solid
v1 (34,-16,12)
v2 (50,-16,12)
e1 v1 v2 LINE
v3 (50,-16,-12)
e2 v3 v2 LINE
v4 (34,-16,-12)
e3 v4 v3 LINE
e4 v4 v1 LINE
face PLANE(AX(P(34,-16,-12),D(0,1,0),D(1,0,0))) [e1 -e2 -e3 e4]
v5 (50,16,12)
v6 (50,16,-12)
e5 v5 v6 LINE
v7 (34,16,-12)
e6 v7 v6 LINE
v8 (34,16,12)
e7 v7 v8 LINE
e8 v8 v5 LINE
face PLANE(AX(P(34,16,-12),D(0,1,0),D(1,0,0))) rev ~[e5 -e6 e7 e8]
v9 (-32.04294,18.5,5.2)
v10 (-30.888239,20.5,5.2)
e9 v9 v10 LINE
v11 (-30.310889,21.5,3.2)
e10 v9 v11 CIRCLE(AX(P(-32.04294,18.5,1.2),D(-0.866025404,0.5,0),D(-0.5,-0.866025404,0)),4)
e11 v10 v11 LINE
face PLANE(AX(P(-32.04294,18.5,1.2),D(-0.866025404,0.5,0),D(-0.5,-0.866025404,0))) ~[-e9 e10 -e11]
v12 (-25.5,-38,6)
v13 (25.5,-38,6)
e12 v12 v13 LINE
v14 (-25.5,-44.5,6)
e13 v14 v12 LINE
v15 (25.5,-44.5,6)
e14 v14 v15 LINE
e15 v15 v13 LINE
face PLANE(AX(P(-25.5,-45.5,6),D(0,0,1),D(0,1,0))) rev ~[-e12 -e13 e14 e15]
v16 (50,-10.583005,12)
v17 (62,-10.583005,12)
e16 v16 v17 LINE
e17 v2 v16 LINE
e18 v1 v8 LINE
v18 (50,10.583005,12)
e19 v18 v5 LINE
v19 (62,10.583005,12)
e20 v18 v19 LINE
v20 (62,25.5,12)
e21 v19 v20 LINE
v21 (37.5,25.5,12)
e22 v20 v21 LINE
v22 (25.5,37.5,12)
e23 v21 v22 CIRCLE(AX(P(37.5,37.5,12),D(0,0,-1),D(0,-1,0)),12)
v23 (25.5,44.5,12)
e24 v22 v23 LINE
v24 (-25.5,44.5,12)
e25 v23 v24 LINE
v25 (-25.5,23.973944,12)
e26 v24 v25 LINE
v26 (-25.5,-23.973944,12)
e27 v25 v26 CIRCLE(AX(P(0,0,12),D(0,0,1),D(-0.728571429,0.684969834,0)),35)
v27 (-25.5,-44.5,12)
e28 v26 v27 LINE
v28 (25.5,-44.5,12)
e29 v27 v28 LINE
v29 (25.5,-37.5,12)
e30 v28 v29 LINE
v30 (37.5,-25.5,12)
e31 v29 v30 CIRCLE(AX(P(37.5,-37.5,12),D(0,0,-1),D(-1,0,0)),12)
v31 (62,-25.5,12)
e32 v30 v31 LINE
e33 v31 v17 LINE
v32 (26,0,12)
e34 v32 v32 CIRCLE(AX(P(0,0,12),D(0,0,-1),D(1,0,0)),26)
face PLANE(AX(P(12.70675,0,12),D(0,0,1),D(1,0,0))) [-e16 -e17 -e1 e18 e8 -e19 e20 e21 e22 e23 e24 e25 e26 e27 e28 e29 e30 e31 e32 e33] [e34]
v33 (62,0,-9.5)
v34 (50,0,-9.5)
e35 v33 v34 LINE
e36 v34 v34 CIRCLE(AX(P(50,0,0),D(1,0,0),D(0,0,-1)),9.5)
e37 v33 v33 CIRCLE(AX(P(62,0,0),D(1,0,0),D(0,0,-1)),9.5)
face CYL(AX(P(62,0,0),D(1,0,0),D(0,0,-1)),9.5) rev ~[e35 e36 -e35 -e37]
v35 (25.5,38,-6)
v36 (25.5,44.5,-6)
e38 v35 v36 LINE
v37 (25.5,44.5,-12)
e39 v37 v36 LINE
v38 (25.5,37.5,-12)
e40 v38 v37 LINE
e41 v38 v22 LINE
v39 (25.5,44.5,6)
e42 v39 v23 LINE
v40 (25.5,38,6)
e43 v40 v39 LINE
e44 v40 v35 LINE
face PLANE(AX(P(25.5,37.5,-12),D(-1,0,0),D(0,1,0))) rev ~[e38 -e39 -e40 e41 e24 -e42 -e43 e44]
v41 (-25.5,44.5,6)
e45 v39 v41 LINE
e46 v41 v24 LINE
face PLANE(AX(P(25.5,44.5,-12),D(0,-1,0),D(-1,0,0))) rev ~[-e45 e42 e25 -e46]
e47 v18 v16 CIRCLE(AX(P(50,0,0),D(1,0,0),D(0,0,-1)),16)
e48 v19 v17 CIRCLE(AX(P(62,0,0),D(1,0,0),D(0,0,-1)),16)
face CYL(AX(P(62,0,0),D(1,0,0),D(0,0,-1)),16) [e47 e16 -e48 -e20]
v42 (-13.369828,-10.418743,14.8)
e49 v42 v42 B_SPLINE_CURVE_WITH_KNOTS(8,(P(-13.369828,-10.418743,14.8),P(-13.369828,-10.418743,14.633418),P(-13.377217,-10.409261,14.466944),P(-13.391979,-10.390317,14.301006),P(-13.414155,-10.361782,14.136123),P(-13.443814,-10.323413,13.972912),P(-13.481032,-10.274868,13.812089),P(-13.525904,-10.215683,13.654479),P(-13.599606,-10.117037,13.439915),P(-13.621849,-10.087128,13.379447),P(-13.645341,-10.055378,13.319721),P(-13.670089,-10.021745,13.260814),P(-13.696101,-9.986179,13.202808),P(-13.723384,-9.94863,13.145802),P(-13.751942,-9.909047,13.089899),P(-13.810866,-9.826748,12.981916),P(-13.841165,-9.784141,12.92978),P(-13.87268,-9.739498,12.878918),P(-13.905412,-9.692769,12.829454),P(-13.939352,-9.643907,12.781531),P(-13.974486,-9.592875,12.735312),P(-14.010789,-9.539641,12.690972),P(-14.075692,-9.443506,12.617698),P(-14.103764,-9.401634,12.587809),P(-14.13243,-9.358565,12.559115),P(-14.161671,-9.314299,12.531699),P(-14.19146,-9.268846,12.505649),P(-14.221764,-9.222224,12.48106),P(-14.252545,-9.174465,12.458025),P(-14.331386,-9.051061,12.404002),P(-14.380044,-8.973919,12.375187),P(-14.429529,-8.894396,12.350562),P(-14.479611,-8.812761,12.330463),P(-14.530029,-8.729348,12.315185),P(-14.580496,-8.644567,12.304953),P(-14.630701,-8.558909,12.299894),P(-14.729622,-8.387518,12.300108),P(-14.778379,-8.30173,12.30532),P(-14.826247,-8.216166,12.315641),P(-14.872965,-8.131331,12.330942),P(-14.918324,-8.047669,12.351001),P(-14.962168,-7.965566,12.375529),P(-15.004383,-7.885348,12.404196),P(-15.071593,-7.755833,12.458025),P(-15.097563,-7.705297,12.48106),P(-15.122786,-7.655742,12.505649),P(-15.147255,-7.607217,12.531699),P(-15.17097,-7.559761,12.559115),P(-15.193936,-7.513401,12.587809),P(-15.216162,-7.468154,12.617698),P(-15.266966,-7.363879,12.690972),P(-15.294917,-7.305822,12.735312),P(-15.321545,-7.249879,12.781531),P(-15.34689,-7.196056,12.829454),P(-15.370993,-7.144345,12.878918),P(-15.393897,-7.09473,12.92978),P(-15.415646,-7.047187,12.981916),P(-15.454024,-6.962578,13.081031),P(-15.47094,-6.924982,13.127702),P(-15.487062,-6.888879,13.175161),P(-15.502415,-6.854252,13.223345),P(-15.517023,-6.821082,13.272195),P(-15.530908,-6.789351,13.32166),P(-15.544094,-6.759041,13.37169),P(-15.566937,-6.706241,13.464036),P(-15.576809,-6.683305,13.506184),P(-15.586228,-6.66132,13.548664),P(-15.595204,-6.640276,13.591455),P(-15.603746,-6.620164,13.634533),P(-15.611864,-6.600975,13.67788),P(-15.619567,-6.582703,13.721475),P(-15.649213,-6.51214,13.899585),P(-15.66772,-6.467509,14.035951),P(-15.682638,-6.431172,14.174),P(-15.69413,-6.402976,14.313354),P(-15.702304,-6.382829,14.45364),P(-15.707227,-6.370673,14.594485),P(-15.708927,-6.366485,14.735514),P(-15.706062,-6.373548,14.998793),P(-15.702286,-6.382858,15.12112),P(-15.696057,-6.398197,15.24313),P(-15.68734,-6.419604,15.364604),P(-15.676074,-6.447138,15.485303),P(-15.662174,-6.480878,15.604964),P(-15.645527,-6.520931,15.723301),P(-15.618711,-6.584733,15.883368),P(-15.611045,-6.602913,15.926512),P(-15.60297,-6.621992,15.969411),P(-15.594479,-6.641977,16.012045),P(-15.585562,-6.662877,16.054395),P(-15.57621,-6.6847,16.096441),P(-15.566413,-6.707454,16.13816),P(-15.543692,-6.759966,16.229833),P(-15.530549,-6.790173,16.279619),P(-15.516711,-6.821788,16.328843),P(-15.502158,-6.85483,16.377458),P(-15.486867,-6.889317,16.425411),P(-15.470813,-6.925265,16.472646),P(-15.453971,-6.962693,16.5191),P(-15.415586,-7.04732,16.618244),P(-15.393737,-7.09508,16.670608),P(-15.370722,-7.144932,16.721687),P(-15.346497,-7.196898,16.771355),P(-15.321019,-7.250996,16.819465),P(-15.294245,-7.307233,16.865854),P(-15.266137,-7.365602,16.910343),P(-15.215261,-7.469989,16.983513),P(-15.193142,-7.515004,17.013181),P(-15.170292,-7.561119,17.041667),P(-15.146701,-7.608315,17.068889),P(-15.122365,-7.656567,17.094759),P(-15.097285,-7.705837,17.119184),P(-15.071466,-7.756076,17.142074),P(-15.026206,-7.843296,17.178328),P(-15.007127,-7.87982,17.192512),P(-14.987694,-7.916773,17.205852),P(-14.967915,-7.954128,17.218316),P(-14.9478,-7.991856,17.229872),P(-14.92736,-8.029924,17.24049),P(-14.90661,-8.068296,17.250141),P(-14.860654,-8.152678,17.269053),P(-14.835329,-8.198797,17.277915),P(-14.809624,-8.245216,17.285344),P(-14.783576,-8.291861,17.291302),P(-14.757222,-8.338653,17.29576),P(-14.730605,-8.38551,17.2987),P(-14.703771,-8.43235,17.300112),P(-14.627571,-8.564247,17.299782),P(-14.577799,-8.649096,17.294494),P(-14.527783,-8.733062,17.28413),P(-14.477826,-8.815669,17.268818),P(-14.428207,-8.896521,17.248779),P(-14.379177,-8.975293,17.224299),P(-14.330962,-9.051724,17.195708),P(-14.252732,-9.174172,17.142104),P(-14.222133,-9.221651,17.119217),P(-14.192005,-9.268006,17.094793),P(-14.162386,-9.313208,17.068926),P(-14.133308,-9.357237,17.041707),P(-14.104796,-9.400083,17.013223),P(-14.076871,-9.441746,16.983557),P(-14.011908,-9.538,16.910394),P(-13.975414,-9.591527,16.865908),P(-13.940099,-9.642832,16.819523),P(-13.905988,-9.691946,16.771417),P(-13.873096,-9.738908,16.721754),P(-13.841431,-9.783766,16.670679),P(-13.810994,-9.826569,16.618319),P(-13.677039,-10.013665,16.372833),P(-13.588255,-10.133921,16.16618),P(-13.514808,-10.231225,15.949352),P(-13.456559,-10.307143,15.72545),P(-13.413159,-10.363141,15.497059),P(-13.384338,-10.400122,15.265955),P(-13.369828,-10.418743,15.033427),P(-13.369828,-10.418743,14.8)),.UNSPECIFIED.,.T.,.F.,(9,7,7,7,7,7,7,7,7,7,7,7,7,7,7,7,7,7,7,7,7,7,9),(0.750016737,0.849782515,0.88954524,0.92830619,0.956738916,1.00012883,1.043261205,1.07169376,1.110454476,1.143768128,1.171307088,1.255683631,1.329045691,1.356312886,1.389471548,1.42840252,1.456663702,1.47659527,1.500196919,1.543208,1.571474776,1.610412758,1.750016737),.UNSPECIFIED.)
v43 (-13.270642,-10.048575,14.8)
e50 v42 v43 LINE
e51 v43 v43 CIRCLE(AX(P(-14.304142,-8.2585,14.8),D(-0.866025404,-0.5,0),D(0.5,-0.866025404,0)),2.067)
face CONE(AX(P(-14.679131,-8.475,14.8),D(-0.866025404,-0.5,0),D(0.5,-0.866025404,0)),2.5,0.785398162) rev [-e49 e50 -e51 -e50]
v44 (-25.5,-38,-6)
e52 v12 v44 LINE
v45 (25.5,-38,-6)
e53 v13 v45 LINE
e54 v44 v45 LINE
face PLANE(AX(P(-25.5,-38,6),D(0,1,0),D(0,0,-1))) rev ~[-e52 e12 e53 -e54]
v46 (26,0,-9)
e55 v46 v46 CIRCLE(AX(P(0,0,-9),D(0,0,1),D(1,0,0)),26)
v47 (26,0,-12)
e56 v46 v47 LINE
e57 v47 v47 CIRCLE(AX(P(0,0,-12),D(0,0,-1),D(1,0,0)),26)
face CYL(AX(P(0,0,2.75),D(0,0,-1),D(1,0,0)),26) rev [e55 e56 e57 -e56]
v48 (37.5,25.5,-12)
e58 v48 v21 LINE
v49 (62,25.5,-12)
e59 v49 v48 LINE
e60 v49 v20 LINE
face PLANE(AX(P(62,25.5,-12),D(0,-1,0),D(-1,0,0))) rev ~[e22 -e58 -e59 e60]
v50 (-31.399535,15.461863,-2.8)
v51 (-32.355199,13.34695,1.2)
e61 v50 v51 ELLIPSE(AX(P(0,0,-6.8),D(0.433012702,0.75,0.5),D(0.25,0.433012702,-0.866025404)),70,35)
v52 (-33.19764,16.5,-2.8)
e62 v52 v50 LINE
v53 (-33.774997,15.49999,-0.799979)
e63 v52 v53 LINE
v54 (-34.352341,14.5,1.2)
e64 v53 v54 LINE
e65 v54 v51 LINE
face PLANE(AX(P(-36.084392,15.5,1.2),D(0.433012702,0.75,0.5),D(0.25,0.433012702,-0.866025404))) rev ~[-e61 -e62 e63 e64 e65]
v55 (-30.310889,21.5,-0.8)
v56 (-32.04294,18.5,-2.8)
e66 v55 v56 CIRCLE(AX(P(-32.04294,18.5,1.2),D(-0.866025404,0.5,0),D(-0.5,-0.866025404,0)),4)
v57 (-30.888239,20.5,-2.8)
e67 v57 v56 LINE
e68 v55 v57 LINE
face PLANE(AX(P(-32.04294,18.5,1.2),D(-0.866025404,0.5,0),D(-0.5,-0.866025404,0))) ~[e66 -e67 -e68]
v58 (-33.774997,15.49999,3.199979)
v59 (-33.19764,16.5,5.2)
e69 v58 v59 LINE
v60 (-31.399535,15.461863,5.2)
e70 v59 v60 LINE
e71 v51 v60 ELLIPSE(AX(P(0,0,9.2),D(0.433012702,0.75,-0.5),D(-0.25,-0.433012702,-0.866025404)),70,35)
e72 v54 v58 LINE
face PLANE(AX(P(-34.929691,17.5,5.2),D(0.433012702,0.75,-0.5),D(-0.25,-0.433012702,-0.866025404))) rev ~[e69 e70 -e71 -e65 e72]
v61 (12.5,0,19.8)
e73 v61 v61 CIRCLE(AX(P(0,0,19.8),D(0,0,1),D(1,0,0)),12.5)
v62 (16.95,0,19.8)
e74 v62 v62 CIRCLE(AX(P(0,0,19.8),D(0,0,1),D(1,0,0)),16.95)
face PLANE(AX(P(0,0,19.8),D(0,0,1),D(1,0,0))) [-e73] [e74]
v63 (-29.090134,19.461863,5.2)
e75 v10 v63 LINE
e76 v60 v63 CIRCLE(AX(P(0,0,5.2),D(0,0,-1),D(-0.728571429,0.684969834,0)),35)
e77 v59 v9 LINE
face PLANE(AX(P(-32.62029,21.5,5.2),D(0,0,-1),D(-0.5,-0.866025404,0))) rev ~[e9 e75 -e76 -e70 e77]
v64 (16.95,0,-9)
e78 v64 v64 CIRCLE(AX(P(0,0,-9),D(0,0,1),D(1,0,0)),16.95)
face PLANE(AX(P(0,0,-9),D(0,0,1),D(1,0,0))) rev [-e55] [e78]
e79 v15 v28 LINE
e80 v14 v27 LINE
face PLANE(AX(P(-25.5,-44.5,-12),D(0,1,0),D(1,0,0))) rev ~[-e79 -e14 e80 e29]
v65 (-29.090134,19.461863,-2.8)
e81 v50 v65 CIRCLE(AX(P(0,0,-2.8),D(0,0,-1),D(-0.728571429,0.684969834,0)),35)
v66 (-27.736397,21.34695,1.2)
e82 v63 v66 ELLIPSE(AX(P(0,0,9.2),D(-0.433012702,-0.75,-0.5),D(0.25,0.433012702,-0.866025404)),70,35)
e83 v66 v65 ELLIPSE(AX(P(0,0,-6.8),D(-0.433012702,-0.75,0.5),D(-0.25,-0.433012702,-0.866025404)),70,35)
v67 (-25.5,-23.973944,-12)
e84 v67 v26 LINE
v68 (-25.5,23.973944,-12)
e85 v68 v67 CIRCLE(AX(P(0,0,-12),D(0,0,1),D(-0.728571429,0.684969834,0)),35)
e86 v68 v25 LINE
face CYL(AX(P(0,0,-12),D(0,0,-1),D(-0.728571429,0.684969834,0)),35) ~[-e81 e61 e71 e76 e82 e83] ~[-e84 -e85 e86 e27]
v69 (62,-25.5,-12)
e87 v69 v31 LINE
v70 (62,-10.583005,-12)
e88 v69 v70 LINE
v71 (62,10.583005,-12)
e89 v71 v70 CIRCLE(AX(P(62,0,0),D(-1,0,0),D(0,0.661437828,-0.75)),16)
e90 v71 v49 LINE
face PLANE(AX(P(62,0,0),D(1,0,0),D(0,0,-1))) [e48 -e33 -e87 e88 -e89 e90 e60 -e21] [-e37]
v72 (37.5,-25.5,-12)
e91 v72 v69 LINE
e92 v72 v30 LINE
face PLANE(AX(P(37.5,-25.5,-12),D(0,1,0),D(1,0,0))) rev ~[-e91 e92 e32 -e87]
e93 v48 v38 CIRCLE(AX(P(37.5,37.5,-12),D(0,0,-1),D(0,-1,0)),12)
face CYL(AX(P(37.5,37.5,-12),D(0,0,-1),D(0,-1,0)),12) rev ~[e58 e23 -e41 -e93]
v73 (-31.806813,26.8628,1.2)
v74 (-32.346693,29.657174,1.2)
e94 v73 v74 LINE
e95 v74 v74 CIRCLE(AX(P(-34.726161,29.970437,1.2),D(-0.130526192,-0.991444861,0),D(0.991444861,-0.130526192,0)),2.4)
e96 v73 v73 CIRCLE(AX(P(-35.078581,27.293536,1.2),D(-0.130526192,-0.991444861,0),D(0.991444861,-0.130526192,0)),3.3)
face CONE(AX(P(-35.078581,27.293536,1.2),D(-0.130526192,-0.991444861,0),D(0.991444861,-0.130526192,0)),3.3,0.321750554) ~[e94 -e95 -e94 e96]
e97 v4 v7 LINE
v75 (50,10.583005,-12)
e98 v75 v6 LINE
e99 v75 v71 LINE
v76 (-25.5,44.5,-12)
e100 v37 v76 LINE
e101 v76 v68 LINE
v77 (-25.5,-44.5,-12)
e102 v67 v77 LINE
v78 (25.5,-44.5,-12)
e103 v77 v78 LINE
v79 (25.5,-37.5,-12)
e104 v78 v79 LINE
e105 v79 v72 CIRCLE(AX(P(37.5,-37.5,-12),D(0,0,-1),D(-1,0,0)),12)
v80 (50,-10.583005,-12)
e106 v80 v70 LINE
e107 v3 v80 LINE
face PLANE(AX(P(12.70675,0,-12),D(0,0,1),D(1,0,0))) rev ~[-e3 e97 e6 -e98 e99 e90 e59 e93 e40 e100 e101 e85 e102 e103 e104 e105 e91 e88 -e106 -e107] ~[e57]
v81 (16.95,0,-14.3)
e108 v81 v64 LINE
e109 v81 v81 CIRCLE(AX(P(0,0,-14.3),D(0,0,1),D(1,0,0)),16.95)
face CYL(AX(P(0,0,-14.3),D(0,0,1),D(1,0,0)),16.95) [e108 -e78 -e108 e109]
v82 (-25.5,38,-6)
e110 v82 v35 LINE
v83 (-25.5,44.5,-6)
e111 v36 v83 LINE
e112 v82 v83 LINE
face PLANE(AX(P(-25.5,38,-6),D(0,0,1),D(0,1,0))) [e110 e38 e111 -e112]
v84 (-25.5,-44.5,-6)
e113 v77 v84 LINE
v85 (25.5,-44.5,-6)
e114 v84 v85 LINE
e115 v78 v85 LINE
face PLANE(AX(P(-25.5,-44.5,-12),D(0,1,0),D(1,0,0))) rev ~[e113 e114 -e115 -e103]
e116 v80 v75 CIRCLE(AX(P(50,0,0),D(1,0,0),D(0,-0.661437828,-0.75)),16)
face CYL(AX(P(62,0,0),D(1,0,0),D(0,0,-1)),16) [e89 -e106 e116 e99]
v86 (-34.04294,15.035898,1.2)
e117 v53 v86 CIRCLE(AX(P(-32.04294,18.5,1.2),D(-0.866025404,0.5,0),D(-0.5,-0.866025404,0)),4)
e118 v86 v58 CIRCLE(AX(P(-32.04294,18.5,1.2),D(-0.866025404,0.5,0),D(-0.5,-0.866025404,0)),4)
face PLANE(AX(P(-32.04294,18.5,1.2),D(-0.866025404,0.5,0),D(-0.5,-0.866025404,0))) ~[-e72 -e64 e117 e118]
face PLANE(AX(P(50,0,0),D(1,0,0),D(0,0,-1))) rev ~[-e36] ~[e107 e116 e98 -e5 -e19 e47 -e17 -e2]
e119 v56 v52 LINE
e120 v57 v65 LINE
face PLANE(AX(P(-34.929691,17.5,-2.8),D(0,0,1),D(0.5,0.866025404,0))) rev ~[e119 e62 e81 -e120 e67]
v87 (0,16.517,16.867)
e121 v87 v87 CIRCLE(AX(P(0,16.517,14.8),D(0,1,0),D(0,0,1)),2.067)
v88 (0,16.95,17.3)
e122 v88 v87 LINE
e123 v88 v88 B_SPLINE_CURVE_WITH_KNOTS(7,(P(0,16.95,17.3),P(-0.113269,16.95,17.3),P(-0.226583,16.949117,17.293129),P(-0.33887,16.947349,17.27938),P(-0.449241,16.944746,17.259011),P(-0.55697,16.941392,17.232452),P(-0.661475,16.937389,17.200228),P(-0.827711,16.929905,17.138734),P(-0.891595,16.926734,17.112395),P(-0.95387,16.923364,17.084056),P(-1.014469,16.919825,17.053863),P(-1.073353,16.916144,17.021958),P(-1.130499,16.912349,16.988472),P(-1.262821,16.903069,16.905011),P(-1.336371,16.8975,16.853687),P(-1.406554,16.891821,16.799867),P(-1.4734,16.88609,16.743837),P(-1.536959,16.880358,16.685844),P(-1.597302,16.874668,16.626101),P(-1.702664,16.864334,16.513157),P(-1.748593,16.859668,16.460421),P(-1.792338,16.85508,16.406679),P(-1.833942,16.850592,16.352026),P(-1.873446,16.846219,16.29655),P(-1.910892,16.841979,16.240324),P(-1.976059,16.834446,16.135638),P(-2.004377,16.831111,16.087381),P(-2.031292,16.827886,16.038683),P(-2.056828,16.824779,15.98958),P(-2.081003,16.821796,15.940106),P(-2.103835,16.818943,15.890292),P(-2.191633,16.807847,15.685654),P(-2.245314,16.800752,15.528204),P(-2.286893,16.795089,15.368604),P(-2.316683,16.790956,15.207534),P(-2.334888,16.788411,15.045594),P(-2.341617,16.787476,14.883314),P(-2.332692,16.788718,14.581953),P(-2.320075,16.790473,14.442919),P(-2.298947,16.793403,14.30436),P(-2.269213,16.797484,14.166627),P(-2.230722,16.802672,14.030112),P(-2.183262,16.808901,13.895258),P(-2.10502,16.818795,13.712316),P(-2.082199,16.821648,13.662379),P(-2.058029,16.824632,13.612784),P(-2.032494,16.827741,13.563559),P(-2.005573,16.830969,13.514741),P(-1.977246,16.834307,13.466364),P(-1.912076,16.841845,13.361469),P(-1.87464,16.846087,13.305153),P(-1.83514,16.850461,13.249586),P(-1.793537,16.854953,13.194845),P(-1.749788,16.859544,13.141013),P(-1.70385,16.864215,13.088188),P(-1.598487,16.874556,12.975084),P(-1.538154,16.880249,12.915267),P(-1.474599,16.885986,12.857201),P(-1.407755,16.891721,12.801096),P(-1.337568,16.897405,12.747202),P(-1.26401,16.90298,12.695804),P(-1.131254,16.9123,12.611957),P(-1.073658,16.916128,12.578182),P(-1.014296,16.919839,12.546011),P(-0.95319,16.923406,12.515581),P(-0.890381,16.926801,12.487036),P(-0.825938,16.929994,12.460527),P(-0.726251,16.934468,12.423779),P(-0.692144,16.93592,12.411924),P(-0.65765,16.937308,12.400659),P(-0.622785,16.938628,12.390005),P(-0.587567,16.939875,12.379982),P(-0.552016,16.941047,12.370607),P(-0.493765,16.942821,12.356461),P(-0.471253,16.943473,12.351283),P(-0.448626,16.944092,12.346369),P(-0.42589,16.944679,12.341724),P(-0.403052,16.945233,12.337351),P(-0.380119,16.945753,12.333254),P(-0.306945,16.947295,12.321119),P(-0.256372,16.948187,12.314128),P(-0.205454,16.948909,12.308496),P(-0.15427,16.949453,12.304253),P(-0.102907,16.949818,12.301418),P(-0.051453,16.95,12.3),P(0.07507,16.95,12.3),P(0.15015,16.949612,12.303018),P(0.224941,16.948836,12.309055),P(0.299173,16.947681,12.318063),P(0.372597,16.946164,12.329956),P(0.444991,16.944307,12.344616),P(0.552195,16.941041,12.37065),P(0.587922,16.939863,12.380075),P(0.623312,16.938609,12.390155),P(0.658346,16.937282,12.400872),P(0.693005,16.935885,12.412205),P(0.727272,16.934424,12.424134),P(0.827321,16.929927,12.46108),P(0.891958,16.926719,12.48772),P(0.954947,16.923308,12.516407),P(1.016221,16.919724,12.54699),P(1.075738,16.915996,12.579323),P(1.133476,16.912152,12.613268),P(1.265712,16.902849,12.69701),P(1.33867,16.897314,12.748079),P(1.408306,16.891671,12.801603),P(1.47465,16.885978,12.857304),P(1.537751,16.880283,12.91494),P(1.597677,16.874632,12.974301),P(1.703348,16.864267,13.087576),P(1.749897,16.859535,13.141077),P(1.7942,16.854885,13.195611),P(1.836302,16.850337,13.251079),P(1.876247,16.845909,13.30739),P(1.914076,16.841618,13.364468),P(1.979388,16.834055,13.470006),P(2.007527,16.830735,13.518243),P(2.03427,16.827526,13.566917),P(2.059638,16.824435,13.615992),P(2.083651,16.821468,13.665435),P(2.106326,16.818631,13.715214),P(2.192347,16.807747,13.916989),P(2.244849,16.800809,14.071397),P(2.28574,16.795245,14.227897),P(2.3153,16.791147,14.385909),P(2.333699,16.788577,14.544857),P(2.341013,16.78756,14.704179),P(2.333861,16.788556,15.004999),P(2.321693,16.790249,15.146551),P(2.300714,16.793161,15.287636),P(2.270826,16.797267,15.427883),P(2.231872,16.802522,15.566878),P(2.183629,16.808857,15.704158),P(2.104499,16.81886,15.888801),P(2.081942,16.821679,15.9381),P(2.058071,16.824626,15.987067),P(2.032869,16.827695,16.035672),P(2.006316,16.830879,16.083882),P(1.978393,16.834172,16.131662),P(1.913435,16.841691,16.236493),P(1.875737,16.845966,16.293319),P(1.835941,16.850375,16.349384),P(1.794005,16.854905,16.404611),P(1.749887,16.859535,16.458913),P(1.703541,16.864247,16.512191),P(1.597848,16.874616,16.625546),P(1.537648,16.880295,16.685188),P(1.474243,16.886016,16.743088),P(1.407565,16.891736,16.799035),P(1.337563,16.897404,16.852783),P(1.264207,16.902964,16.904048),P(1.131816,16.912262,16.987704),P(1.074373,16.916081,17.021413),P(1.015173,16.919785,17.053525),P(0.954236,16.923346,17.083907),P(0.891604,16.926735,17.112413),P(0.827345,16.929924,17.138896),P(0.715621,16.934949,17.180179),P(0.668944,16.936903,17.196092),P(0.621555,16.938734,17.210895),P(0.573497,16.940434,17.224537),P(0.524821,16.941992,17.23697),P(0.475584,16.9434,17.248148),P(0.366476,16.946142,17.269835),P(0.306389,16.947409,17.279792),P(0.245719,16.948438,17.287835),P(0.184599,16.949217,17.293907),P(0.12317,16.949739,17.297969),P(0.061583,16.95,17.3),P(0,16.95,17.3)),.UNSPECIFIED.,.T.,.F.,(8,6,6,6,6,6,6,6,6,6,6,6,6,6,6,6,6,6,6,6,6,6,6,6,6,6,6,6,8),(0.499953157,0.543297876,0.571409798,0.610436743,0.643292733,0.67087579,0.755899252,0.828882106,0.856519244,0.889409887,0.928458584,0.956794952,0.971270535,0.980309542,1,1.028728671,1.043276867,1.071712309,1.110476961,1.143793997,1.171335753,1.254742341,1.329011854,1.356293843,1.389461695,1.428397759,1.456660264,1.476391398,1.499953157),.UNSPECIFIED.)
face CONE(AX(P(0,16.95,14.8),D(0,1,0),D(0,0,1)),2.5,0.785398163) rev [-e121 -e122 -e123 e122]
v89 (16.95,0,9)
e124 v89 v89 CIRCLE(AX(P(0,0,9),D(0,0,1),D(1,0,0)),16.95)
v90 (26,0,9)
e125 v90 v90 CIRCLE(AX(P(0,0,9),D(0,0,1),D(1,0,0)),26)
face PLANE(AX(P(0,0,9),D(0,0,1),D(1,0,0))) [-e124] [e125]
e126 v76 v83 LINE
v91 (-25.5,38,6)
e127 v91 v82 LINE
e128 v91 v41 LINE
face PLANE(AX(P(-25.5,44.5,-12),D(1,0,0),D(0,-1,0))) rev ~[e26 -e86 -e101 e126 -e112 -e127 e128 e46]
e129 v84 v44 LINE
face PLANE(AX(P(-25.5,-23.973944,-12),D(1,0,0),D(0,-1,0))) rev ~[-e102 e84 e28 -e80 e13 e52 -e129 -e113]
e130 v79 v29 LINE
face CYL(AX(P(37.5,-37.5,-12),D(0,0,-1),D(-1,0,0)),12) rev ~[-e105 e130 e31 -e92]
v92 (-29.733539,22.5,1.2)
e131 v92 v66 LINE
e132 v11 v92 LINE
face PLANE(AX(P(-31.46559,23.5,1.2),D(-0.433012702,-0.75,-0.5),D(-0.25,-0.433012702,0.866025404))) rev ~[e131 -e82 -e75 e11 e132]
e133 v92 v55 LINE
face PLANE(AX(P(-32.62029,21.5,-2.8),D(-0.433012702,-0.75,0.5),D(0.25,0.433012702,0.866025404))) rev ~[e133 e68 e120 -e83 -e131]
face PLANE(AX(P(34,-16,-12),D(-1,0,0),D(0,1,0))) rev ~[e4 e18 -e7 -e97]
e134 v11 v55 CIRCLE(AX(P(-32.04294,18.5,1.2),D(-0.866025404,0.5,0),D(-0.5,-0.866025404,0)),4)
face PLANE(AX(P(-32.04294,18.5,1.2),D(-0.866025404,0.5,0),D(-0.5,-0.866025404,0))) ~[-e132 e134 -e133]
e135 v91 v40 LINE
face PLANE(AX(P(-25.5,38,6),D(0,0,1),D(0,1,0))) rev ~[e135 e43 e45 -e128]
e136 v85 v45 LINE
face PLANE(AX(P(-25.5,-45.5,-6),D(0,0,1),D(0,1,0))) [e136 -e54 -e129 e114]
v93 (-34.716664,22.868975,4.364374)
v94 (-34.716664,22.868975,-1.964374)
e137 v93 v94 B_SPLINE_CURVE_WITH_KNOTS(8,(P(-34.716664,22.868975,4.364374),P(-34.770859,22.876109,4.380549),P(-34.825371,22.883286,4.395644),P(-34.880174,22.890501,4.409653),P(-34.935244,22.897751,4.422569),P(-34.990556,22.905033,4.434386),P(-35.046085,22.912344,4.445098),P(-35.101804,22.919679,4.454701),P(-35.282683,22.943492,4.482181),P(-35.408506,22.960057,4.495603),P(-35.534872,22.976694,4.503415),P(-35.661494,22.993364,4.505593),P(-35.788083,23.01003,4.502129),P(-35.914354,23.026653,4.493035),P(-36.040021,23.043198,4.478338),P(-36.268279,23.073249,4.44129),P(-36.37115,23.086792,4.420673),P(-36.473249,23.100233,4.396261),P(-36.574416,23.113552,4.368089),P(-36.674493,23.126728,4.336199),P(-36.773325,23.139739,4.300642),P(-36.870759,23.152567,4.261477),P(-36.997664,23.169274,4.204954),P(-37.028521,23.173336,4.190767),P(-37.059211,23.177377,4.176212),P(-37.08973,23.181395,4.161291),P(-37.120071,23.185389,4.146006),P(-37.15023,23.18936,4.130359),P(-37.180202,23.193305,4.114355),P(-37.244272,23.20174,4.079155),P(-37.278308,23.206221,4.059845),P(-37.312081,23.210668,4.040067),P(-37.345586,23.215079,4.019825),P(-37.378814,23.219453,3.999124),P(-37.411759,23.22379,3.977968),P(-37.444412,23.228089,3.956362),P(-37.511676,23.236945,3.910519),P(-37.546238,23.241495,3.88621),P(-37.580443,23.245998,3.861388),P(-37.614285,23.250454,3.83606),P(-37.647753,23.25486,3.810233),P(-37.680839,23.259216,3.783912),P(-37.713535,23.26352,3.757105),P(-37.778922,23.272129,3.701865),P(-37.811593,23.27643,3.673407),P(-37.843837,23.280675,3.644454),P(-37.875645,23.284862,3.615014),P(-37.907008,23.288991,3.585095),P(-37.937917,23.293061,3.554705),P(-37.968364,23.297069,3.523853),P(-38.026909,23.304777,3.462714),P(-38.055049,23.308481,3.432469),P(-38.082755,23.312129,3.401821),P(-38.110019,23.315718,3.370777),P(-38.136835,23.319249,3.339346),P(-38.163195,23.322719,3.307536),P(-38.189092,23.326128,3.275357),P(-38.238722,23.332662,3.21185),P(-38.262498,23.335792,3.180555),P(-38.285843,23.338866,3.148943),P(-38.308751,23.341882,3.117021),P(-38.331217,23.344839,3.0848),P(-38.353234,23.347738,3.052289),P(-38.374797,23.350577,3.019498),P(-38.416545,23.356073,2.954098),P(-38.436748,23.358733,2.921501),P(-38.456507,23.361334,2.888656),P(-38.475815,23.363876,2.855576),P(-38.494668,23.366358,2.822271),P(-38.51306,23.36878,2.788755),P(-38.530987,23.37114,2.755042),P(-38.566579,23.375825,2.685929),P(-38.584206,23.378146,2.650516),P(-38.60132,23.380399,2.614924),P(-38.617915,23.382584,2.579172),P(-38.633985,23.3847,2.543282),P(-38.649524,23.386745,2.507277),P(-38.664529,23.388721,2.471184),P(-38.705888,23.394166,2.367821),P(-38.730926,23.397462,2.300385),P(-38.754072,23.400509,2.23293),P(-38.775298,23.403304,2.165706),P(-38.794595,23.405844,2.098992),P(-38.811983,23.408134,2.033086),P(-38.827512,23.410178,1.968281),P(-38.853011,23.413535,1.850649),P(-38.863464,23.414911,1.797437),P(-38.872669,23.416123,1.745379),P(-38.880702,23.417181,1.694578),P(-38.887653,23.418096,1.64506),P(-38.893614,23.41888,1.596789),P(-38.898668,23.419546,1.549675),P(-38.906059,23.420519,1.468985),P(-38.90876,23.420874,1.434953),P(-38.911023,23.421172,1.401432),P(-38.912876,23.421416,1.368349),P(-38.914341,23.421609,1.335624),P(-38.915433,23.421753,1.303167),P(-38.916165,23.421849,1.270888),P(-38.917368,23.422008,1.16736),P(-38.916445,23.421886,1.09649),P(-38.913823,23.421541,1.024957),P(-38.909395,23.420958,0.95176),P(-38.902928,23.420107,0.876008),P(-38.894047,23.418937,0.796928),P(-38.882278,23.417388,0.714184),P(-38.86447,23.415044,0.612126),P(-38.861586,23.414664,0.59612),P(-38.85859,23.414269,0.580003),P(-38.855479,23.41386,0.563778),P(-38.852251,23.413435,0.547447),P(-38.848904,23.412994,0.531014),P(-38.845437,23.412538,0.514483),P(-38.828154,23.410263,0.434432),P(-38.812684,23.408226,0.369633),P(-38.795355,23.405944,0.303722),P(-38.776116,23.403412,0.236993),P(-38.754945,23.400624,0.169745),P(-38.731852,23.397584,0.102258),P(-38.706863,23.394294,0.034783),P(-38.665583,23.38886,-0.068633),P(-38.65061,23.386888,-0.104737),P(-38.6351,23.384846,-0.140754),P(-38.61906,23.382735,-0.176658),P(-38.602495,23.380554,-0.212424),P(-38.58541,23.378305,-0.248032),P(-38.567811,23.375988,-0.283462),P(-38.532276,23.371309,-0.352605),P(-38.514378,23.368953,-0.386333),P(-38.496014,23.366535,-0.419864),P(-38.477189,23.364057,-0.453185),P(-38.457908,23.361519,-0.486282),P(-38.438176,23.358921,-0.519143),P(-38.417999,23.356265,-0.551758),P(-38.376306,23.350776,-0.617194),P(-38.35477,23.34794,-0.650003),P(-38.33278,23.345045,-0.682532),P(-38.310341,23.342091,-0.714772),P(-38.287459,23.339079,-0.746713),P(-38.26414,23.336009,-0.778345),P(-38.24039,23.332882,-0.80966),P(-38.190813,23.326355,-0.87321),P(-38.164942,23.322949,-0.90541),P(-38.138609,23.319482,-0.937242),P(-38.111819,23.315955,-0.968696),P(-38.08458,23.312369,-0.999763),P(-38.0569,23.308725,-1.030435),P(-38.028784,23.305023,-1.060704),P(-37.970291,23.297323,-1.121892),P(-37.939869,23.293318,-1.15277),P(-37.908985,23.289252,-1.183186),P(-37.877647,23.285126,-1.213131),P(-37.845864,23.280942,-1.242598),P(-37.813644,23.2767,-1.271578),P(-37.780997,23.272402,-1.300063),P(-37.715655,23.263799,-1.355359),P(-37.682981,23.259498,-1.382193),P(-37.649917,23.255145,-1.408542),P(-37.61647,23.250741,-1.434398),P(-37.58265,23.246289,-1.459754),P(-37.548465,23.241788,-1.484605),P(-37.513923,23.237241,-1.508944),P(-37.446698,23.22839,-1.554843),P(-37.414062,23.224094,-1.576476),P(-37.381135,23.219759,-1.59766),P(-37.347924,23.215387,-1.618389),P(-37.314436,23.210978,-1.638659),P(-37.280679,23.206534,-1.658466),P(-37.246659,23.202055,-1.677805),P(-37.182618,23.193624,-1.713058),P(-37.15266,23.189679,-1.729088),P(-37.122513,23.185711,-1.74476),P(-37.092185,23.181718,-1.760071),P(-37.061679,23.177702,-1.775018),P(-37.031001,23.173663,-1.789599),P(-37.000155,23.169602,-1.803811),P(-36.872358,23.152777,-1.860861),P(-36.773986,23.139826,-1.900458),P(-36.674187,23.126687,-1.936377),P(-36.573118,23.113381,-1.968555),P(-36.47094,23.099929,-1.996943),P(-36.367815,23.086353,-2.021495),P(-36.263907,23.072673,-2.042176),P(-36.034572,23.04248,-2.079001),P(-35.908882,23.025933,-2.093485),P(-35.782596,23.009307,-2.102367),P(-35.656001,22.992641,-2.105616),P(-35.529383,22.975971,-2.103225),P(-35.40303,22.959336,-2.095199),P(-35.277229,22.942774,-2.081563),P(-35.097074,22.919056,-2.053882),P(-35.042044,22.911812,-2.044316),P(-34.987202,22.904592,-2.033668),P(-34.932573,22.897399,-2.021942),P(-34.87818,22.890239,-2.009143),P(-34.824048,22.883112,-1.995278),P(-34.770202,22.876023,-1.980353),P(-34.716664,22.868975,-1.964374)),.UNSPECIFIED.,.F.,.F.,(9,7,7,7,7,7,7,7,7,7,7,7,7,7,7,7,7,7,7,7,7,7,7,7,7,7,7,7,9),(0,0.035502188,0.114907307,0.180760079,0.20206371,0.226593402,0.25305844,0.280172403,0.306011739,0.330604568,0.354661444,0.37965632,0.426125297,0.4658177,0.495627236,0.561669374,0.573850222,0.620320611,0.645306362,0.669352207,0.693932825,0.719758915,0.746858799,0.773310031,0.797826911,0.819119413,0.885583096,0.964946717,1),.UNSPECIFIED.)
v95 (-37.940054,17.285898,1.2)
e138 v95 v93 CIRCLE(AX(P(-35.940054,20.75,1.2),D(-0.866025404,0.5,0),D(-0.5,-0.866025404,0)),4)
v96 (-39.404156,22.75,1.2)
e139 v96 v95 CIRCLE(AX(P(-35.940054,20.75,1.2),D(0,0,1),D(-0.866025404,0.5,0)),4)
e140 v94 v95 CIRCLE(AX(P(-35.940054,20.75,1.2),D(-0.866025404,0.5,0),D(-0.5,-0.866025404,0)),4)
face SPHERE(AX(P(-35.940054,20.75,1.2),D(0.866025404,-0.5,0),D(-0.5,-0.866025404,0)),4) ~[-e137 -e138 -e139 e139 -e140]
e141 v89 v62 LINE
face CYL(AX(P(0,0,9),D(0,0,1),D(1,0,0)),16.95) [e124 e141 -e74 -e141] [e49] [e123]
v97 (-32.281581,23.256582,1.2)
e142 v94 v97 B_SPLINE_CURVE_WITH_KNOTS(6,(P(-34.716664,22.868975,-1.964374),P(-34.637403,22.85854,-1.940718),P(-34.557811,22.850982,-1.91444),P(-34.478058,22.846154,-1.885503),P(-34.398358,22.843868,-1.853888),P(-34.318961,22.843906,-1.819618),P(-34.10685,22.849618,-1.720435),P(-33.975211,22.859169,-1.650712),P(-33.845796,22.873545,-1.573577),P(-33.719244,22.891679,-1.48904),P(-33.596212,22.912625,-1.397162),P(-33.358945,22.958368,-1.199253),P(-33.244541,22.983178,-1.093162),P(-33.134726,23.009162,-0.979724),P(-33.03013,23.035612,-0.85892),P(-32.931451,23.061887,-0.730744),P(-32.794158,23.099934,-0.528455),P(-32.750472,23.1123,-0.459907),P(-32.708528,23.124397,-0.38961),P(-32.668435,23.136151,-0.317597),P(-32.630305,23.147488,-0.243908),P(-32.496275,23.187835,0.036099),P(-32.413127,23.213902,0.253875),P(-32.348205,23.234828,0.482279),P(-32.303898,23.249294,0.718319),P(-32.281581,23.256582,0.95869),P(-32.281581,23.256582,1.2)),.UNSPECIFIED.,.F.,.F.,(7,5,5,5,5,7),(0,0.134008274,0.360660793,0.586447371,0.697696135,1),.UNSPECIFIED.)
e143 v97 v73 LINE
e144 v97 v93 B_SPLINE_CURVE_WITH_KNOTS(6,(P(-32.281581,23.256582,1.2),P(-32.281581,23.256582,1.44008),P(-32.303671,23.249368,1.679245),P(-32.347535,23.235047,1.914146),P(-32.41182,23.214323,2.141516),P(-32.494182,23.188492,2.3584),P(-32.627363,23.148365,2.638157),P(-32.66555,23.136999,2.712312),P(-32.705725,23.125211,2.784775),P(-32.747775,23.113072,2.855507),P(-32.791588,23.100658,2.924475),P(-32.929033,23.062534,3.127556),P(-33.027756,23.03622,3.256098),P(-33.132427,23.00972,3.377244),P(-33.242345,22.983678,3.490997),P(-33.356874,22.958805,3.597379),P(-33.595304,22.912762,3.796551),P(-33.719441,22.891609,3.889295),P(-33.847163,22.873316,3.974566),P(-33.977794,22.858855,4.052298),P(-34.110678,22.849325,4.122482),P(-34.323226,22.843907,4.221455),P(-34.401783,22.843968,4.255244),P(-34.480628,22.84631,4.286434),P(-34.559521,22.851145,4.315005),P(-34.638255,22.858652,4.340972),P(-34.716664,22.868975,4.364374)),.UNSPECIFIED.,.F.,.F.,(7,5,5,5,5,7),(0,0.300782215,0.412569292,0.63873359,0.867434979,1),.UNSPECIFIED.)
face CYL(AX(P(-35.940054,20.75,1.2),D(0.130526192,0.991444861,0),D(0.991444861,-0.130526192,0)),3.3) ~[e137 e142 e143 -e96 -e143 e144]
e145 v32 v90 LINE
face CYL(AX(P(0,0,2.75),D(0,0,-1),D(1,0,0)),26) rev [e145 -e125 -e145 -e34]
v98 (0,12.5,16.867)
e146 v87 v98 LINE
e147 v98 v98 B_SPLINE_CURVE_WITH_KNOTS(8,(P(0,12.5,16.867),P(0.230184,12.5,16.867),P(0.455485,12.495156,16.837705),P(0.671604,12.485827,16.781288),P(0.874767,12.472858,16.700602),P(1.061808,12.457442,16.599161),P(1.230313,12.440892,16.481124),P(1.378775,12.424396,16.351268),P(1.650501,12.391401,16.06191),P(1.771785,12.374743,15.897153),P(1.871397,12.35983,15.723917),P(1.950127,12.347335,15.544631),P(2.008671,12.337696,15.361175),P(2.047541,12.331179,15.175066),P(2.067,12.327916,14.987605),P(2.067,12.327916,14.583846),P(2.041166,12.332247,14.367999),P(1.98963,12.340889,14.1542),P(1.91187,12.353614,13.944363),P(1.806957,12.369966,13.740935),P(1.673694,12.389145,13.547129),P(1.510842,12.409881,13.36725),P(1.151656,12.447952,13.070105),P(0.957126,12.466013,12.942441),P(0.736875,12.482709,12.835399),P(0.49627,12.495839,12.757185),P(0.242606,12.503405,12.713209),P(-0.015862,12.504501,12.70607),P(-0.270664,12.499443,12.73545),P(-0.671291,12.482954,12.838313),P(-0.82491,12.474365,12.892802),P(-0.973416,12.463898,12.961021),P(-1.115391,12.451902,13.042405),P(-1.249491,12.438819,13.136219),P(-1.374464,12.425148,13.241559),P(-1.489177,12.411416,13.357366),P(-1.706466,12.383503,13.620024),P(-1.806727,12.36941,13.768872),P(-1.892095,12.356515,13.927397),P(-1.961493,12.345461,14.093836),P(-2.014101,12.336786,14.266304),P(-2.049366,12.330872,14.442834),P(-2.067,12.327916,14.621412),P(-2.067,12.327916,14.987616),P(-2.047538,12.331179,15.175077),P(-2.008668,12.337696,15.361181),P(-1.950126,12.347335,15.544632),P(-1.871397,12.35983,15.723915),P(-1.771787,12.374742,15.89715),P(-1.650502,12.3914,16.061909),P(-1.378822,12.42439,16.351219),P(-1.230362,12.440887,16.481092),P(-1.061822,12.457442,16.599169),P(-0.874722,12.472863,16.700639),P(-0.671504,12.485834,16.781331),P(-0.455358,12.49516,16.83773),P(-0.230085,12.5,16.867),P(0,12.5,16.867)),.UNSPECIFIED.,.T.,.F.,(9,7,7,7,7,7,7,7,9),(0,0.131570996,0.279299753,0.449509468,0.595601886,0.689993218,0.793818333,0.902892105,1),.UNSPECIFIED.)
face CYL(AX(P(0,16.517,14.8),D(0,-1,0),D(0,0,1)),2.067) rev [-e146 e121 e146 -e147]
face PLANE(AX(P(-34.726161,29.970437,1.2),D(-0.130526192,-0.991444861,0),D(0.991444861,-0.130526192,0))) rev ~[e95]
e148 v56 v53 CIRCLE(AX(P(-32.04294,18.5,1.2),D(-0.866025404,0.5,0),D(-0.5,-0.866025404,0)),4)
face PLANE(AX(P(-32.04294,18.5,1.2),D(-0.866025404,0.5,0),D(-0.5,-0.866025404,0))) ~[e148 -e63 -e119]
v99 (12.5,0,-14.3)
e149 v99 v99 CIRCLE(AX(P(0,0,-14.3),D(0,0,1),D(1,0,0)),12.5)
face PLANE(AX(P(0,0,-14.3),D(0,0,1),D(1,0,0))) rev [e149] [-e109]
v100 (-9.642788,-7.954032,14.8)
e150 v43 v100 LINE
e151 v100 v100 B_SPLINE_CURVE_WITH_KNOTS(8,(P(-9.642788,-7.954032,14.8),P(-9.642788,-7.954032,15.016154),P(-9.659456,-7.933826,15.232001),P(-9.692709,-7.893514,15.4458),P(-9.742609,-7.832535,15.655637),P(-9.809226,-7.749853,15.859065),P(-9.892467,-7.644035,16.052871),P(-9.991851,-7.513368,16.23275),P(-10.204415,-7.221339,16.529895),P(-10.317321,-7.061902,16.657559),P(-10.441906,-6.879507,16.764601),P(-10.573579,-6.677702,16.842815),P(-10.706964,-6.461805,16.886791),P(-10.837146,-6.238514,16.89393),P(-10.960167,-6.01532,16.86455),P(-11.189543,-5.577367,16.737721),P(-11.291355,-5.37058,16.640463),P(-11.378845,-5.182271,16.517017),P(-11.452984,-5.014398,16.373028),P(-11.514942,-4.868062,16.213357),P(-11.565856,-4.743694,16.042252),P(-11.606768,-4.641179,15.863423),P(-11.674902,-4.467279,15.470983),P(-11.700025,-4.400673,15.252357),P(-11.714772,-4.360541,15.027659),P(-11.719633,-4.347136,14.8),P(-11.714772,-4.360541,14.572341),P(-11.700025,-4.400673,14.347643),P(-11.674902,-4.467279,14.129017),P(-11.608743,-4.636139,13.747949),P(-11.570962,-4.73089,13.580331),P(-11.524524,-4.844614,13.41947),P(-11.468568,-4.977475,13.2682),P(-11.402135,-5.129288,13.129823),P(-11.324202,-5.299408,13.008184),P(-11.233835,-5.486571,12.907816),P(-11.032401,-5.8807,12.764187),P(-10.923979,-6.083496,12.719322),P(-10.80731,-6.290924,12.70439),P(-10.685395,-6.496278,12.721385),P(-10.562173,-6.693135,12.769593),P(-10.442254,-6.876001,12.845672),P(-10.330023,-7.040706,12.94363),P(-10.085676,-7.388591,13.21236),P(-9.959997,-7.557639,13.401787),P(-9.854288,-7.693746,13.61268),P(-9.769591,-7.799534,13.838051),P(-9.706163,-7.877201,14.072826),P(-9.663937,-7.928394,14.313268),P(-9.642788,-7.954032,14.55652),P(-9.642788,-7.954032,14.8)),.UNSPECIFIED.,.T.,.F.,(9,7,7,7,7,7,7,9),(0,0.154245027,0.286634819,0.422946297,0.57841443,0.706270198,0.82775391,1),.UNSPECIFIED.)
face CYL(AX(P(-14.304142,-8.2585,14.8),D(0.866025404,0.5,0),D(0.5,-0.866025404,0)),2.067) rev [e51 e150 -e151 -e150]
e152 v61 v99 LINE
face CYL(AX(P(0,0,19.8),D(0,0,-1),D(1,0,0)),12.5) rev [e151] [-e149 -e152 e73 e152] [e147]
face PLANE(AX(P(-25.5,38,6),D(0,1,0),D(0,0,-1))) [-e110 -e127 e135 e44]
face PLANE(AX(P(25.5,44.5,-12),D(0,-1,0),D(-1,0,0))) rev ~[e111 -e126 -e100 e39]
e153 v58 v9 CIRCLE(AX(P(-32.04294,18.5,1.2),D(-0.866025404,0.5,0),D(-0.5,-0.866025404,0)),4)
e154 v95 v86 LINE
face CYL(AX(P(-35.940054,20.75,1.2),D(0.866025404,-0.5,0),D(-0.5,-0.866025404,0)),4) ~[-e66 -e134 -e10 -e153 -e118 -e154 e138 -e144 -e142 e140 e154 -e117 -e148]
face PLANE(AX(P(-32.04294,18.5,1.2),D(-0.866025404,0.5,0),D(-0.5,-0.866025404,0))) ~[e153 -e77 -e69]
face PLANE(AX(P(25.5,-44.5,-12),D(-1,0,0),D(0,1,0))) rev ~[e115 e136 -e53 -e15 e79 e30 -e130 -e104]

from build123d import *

# Parameters (mm, degrees)
CUT_EXTRUDE1_DEPTH       = 4
CUT_EXTRUDE1_DEPTH_BACK  = 4
SKETCH2_R                = 5.5
BOSS_EXTRUDE1_DEPTH      = 12
BOSS_EXTRUDE1_DEPTH_BACK = 12
SKETCH4_W                = 16
SKETCH4_H                = 32
SKETCH5_R                = 16
SKETCH5_R_2              = 9.5
BOSS_EXTRUDE2_DEPTH      = 12
SKETCH6_R                = 9.5
CUT_EXTRUDE2_DEPTH       = 12
CUT_EXTRUDE3_DEPTH       = 51
CUT_EXTRUDE3_DEPTH_BACK  = 51
SKETCH7_W                = 12
SKETCH7_H                = 7.5
CUT_EXTRUDE4_DEPTH       = 51
CUT_EXTRUDE4_DEPTH_BACK  = 51
SKETCH8_W                = 12
SKETCH8_H                = 7.5
SKETCH9_W                = 34.1
SKETCH9_H                = 26


with BuildPart() as part:
    # Sketch1 → Revolve1 (revolve)
    with BuildSketch(Plane(origin=(0, 0, 0), x_dir=(0.8660254037844387, -0.4999999999999999, 0), z_dir=(0.49999999999999994, 0.8660254037844388, 0)), mode=Mode.PRIVATE) as revolve1_sk:
        with BuildLine():
            Line((-41.5, 2.8), (-37, 2.8))
            Line((-37, 2.8), (-37, 3.8))
            Line((-37, 3.8), (-34.5, 3.8))
            Line((-34.5, 3.8), (-34.5, -1.2))
            Line((-34.5, -1.2), (-45.5, -1.2))
            ThreePointArc((-45.5, -1.2), (-44.328427125, 1.628427125), (-41.5, 2.8))
        make_face()
    revolve(revolve1_sk.sketch.rotate(Axis((-29.877876431, 17.25, 1.2), (-0.8660254037844386, 0.5000000000000001, 0)), 90), axis=Axis((-29.877876431, 17.25, 1.2), (-0.8660254037844386, 0.5000000000000001, 0)))

    # Sketch2 → Cut-Extrude1 (cut, two sides: drawn at the far end of the back side and taken through both)
    with BuildSketch(Plane(origin=(-30.310889132, 17.5, 0), x_dir=(0, 0, -1), z_dir=(0.8660254037844385, -0.5000000000000003, 0)).offset(-CUT_EXTRUDE1_DEPTH_BACK)):
        with Locations((-1.2, 0)):
            Circle(SKETCH2_R)
        Polygon((-5.2, -2.309401077), (-1.2, -4.618802154), (2.8, -2.309401077), (2.8, 2.309401077), (-1.2, 4.618802154), (-5.2, 2.309401077), align=None, mode=Mode.SUBTRACT)
    extrude(amount=CUT_EXTRUDE1_DEPTH + CUT_EXTRUDE1_DEPTH_BACK, mode=Mode.SUBTRACT)

    # Sketch3 → Revolve2 (revolve)
    with BuildSketch(Plane(origin=(-38.012988024, 5.004504814, 0), x_dir=(0, 0, -1), z_dir=(0.9914448613738105, -0.13052619222005157, 0)), mode=Mode.PRIVATE) as revolve2_sk:
        Polygon((-1.2, 15.881362443), (-4.5, 15.881362443), (-4.5, 22.481362443), (-3.6, 25.181362443), (-1.2, 25.181362443), align=None)
    revolve(revolve2_sk.sketch.rotate(Axis((-34.726160669, 29.970437211, 1.2), (-0.1305261922200517, -0.9914448613738104, 0)), 270), axis=Axis((-34.726160669, 29.970437211, 1.2), (-0.1305261922200517, -0.9914448613738104, 0)))

    # Sketch4 → Boss-Extrude1 (add, two sides: drawn at the far end of the back side and taken through both)
    with BuildSketch(Plane.XY.offset(-BOSS_EXTRUDE1_DEPTH_BACK)):
        with BuildLine():
            Line((-25.5, -23.973944189), (-25.5, -44.5))
            Line((-25.5, -44.5), (25.5, -44.5))
            Line((25.5, -44.5), (25.5, -37.5))
            ThreePointArc((25.5, -37.5), (29.014718626, -29.014718626), (37.5, -25.5))
            Line((37.5, -25.5), (62, -25.5))
            Line((62, -25.5), (62, 25.5))
            Line((62, 25.5), (37.5, 25.5))
            ThreePointArc((37.5, 25.5), (29.014718626, 29.014718626), (25.5, 37.5))
            Line((25.5, 37.5), (25.5, 44.5))
            Line((25.5, 44.5), (-25.5, 44.5))
            Line((-25.5, 44.5), (-25.5, 23.973944189))
            ThreePointArc((-25.5, 23.973944189), (-35, 0), (-25.5, -23.973944189))
        make_face()
        with Locations((42, 0)):
            Rectangle(SKETCH4_W, SKETCH4_H, mode=Mode.SUBTRACT)
    extrude(amount=BOSS_EXTRUDE1_DEPTH + BOSS_EXTRUDE1_DEPTH_BACK)

    # Sketch5 → Boss-Extrude2 (add)
    with BuildSketch(Plane(origin=(62, 0, 0), x_dir=(0, 0, -1), z_dir=(1, 0, 0))):
        Circle(SKETCH5_R)
        Circle(SKETCH5_R_2, mode=Mode.SUBTRACT)
    extrude(amount=-BOSS_EXTRUDE2_DEPTH)

    # Sketch6 → Cut-Extrude2 (cut)
    with BuildSketch(Plane(origin=(62, 0, 0), x_dir=(0, 0, -1), z_dir=(1, 0, 0))):
        Circle(SKETCH6_R)
    extrude(amount=-CUT_EXTRUDE2_DEPTH, mode=Mode.SUBTRACT)

    # Sketch7 → Cut-Extrude3 (cut, two sides: drawn at the far end of the back side and taken through both)
    with BuildSketch(Plane(origin=(25.5, 0, 0), x_dir=(0, 0, -1), z_dir=(1, 0, 0)).offset(-CUT_EXTRUDE3_DEPTH_BACK)):
        with Locations((0, 41.75)):
            Rectangle(SKETCH7_W, SKETCH7_H)
    extrude(amount=CUT_EXTRUDE3_DEPTH + CUT_EXTRUDE3_DEPTH_BACK, mode=Mode.SUBTRACT)

    # Sketch8 → Cut-Extrude4 (cut, two sides: drawn at the far end of the back side and taken through both)
    with BuildSketch(Plane(origin=(25.5, 0, 0), x_dir=(0, 0, -1), z_dir=(1, 0, 0)).offset(-CUT_EXTRUDE4_DEPTH_BACK)):
        with Locations((0, -41.75)):
            Rectangle(SKETCH8_W, SKETCH8_H)
    extrude(amount=CUT_EXTRUDE4_DEPTH + CUT_EXTRUDE4_DEPTH_BACK, mode=Mode.SUBTRACT)

    # Sketch9 → Cut-Revolve1 (revolve, cut)
    with BuildSketch(Plane(origin=(0, 0, 0), x_dir=(0, 0, -1), z_dir=(1, 0, 0)), mode=Mode.PRIVATE) as cut_revolve1_sk:
        with Locations((-2.75, 13)):
            Rectangle(SKETCH9_W, SKETCH9_H)
    revolve(cut_revolve1_sk.sketch.rotate(Axis((0, 0, -14.3), (0, 0, 1)), 270), axis=Axis((0, 0, -14.3), (0, 0, 1)), mode=Mode.SUBTRACT)

    # Sketch10 → Revolve3 (revolve)
    with BuildSketch(Plane(origin=(0, 0, 0), x_dir=(0, 0, -1), z_dir=(1, 0, 0)), mode=Mode.PRIVATE) as revolve3_sk:
        Polygon((-19.8, 12.5), (14.3, 12.5), (14.3, 16.95), (9, 16.95), (9, 26), (-9, 26), (-9, 16.95), (-19.8, 16.95), align=None)
    revolve(revolve3_sk.sketch.rotate(Axis((0, 0, -50), (0, 0, 1)), 270), axis=Axis((0, 0, -50), (0, 0, 1)))

    # Sketch11 → Cut-Revolve2 (revolve, cut)
    with BuildSketch(Plane.XY.offset(14.8), mode=Mode.PRIVATE) as cut_revolve2_sk:
        Polygon((0, 16.95), (2.5, 16.95), (2.067, 16.517), (2.067, 0), (0, 0), align=None)
    revolve(cut_revolve2_sk.sketch.rotate(Axis((0, 0, 14.8), (0, 1, 0)), 270), axis=Axis((0, 0, 14.8), (0, 1, 0)), mode=Mode.SUBTRACT)

    # Sketch12 → Cut-Revolve3 (revolve, cut)
    with BuildSketch(Plane.XY.offset(14.8), mode=Mode.PRIVATE) as cut_revolve3_sk:
        Polygon((-14.679130594, -8.475), (-15.929130594, -6.309936491), (-15.337641594, -6.46842549), (-1.0335, 1.79007451), (0, 0), align=None)
    revolve(cut_revolve3_sk.sketch.rotate(Axis((0, 0, 14.8), (-0.8660254037844382, -0.5000000000000009, 0)), 180), axis=Axis((0, 0, 14.8), (-0.8660254037844382, -0.5000000000000009, 0)), mode=Mode.SUBTRACT)


solid = part.part
